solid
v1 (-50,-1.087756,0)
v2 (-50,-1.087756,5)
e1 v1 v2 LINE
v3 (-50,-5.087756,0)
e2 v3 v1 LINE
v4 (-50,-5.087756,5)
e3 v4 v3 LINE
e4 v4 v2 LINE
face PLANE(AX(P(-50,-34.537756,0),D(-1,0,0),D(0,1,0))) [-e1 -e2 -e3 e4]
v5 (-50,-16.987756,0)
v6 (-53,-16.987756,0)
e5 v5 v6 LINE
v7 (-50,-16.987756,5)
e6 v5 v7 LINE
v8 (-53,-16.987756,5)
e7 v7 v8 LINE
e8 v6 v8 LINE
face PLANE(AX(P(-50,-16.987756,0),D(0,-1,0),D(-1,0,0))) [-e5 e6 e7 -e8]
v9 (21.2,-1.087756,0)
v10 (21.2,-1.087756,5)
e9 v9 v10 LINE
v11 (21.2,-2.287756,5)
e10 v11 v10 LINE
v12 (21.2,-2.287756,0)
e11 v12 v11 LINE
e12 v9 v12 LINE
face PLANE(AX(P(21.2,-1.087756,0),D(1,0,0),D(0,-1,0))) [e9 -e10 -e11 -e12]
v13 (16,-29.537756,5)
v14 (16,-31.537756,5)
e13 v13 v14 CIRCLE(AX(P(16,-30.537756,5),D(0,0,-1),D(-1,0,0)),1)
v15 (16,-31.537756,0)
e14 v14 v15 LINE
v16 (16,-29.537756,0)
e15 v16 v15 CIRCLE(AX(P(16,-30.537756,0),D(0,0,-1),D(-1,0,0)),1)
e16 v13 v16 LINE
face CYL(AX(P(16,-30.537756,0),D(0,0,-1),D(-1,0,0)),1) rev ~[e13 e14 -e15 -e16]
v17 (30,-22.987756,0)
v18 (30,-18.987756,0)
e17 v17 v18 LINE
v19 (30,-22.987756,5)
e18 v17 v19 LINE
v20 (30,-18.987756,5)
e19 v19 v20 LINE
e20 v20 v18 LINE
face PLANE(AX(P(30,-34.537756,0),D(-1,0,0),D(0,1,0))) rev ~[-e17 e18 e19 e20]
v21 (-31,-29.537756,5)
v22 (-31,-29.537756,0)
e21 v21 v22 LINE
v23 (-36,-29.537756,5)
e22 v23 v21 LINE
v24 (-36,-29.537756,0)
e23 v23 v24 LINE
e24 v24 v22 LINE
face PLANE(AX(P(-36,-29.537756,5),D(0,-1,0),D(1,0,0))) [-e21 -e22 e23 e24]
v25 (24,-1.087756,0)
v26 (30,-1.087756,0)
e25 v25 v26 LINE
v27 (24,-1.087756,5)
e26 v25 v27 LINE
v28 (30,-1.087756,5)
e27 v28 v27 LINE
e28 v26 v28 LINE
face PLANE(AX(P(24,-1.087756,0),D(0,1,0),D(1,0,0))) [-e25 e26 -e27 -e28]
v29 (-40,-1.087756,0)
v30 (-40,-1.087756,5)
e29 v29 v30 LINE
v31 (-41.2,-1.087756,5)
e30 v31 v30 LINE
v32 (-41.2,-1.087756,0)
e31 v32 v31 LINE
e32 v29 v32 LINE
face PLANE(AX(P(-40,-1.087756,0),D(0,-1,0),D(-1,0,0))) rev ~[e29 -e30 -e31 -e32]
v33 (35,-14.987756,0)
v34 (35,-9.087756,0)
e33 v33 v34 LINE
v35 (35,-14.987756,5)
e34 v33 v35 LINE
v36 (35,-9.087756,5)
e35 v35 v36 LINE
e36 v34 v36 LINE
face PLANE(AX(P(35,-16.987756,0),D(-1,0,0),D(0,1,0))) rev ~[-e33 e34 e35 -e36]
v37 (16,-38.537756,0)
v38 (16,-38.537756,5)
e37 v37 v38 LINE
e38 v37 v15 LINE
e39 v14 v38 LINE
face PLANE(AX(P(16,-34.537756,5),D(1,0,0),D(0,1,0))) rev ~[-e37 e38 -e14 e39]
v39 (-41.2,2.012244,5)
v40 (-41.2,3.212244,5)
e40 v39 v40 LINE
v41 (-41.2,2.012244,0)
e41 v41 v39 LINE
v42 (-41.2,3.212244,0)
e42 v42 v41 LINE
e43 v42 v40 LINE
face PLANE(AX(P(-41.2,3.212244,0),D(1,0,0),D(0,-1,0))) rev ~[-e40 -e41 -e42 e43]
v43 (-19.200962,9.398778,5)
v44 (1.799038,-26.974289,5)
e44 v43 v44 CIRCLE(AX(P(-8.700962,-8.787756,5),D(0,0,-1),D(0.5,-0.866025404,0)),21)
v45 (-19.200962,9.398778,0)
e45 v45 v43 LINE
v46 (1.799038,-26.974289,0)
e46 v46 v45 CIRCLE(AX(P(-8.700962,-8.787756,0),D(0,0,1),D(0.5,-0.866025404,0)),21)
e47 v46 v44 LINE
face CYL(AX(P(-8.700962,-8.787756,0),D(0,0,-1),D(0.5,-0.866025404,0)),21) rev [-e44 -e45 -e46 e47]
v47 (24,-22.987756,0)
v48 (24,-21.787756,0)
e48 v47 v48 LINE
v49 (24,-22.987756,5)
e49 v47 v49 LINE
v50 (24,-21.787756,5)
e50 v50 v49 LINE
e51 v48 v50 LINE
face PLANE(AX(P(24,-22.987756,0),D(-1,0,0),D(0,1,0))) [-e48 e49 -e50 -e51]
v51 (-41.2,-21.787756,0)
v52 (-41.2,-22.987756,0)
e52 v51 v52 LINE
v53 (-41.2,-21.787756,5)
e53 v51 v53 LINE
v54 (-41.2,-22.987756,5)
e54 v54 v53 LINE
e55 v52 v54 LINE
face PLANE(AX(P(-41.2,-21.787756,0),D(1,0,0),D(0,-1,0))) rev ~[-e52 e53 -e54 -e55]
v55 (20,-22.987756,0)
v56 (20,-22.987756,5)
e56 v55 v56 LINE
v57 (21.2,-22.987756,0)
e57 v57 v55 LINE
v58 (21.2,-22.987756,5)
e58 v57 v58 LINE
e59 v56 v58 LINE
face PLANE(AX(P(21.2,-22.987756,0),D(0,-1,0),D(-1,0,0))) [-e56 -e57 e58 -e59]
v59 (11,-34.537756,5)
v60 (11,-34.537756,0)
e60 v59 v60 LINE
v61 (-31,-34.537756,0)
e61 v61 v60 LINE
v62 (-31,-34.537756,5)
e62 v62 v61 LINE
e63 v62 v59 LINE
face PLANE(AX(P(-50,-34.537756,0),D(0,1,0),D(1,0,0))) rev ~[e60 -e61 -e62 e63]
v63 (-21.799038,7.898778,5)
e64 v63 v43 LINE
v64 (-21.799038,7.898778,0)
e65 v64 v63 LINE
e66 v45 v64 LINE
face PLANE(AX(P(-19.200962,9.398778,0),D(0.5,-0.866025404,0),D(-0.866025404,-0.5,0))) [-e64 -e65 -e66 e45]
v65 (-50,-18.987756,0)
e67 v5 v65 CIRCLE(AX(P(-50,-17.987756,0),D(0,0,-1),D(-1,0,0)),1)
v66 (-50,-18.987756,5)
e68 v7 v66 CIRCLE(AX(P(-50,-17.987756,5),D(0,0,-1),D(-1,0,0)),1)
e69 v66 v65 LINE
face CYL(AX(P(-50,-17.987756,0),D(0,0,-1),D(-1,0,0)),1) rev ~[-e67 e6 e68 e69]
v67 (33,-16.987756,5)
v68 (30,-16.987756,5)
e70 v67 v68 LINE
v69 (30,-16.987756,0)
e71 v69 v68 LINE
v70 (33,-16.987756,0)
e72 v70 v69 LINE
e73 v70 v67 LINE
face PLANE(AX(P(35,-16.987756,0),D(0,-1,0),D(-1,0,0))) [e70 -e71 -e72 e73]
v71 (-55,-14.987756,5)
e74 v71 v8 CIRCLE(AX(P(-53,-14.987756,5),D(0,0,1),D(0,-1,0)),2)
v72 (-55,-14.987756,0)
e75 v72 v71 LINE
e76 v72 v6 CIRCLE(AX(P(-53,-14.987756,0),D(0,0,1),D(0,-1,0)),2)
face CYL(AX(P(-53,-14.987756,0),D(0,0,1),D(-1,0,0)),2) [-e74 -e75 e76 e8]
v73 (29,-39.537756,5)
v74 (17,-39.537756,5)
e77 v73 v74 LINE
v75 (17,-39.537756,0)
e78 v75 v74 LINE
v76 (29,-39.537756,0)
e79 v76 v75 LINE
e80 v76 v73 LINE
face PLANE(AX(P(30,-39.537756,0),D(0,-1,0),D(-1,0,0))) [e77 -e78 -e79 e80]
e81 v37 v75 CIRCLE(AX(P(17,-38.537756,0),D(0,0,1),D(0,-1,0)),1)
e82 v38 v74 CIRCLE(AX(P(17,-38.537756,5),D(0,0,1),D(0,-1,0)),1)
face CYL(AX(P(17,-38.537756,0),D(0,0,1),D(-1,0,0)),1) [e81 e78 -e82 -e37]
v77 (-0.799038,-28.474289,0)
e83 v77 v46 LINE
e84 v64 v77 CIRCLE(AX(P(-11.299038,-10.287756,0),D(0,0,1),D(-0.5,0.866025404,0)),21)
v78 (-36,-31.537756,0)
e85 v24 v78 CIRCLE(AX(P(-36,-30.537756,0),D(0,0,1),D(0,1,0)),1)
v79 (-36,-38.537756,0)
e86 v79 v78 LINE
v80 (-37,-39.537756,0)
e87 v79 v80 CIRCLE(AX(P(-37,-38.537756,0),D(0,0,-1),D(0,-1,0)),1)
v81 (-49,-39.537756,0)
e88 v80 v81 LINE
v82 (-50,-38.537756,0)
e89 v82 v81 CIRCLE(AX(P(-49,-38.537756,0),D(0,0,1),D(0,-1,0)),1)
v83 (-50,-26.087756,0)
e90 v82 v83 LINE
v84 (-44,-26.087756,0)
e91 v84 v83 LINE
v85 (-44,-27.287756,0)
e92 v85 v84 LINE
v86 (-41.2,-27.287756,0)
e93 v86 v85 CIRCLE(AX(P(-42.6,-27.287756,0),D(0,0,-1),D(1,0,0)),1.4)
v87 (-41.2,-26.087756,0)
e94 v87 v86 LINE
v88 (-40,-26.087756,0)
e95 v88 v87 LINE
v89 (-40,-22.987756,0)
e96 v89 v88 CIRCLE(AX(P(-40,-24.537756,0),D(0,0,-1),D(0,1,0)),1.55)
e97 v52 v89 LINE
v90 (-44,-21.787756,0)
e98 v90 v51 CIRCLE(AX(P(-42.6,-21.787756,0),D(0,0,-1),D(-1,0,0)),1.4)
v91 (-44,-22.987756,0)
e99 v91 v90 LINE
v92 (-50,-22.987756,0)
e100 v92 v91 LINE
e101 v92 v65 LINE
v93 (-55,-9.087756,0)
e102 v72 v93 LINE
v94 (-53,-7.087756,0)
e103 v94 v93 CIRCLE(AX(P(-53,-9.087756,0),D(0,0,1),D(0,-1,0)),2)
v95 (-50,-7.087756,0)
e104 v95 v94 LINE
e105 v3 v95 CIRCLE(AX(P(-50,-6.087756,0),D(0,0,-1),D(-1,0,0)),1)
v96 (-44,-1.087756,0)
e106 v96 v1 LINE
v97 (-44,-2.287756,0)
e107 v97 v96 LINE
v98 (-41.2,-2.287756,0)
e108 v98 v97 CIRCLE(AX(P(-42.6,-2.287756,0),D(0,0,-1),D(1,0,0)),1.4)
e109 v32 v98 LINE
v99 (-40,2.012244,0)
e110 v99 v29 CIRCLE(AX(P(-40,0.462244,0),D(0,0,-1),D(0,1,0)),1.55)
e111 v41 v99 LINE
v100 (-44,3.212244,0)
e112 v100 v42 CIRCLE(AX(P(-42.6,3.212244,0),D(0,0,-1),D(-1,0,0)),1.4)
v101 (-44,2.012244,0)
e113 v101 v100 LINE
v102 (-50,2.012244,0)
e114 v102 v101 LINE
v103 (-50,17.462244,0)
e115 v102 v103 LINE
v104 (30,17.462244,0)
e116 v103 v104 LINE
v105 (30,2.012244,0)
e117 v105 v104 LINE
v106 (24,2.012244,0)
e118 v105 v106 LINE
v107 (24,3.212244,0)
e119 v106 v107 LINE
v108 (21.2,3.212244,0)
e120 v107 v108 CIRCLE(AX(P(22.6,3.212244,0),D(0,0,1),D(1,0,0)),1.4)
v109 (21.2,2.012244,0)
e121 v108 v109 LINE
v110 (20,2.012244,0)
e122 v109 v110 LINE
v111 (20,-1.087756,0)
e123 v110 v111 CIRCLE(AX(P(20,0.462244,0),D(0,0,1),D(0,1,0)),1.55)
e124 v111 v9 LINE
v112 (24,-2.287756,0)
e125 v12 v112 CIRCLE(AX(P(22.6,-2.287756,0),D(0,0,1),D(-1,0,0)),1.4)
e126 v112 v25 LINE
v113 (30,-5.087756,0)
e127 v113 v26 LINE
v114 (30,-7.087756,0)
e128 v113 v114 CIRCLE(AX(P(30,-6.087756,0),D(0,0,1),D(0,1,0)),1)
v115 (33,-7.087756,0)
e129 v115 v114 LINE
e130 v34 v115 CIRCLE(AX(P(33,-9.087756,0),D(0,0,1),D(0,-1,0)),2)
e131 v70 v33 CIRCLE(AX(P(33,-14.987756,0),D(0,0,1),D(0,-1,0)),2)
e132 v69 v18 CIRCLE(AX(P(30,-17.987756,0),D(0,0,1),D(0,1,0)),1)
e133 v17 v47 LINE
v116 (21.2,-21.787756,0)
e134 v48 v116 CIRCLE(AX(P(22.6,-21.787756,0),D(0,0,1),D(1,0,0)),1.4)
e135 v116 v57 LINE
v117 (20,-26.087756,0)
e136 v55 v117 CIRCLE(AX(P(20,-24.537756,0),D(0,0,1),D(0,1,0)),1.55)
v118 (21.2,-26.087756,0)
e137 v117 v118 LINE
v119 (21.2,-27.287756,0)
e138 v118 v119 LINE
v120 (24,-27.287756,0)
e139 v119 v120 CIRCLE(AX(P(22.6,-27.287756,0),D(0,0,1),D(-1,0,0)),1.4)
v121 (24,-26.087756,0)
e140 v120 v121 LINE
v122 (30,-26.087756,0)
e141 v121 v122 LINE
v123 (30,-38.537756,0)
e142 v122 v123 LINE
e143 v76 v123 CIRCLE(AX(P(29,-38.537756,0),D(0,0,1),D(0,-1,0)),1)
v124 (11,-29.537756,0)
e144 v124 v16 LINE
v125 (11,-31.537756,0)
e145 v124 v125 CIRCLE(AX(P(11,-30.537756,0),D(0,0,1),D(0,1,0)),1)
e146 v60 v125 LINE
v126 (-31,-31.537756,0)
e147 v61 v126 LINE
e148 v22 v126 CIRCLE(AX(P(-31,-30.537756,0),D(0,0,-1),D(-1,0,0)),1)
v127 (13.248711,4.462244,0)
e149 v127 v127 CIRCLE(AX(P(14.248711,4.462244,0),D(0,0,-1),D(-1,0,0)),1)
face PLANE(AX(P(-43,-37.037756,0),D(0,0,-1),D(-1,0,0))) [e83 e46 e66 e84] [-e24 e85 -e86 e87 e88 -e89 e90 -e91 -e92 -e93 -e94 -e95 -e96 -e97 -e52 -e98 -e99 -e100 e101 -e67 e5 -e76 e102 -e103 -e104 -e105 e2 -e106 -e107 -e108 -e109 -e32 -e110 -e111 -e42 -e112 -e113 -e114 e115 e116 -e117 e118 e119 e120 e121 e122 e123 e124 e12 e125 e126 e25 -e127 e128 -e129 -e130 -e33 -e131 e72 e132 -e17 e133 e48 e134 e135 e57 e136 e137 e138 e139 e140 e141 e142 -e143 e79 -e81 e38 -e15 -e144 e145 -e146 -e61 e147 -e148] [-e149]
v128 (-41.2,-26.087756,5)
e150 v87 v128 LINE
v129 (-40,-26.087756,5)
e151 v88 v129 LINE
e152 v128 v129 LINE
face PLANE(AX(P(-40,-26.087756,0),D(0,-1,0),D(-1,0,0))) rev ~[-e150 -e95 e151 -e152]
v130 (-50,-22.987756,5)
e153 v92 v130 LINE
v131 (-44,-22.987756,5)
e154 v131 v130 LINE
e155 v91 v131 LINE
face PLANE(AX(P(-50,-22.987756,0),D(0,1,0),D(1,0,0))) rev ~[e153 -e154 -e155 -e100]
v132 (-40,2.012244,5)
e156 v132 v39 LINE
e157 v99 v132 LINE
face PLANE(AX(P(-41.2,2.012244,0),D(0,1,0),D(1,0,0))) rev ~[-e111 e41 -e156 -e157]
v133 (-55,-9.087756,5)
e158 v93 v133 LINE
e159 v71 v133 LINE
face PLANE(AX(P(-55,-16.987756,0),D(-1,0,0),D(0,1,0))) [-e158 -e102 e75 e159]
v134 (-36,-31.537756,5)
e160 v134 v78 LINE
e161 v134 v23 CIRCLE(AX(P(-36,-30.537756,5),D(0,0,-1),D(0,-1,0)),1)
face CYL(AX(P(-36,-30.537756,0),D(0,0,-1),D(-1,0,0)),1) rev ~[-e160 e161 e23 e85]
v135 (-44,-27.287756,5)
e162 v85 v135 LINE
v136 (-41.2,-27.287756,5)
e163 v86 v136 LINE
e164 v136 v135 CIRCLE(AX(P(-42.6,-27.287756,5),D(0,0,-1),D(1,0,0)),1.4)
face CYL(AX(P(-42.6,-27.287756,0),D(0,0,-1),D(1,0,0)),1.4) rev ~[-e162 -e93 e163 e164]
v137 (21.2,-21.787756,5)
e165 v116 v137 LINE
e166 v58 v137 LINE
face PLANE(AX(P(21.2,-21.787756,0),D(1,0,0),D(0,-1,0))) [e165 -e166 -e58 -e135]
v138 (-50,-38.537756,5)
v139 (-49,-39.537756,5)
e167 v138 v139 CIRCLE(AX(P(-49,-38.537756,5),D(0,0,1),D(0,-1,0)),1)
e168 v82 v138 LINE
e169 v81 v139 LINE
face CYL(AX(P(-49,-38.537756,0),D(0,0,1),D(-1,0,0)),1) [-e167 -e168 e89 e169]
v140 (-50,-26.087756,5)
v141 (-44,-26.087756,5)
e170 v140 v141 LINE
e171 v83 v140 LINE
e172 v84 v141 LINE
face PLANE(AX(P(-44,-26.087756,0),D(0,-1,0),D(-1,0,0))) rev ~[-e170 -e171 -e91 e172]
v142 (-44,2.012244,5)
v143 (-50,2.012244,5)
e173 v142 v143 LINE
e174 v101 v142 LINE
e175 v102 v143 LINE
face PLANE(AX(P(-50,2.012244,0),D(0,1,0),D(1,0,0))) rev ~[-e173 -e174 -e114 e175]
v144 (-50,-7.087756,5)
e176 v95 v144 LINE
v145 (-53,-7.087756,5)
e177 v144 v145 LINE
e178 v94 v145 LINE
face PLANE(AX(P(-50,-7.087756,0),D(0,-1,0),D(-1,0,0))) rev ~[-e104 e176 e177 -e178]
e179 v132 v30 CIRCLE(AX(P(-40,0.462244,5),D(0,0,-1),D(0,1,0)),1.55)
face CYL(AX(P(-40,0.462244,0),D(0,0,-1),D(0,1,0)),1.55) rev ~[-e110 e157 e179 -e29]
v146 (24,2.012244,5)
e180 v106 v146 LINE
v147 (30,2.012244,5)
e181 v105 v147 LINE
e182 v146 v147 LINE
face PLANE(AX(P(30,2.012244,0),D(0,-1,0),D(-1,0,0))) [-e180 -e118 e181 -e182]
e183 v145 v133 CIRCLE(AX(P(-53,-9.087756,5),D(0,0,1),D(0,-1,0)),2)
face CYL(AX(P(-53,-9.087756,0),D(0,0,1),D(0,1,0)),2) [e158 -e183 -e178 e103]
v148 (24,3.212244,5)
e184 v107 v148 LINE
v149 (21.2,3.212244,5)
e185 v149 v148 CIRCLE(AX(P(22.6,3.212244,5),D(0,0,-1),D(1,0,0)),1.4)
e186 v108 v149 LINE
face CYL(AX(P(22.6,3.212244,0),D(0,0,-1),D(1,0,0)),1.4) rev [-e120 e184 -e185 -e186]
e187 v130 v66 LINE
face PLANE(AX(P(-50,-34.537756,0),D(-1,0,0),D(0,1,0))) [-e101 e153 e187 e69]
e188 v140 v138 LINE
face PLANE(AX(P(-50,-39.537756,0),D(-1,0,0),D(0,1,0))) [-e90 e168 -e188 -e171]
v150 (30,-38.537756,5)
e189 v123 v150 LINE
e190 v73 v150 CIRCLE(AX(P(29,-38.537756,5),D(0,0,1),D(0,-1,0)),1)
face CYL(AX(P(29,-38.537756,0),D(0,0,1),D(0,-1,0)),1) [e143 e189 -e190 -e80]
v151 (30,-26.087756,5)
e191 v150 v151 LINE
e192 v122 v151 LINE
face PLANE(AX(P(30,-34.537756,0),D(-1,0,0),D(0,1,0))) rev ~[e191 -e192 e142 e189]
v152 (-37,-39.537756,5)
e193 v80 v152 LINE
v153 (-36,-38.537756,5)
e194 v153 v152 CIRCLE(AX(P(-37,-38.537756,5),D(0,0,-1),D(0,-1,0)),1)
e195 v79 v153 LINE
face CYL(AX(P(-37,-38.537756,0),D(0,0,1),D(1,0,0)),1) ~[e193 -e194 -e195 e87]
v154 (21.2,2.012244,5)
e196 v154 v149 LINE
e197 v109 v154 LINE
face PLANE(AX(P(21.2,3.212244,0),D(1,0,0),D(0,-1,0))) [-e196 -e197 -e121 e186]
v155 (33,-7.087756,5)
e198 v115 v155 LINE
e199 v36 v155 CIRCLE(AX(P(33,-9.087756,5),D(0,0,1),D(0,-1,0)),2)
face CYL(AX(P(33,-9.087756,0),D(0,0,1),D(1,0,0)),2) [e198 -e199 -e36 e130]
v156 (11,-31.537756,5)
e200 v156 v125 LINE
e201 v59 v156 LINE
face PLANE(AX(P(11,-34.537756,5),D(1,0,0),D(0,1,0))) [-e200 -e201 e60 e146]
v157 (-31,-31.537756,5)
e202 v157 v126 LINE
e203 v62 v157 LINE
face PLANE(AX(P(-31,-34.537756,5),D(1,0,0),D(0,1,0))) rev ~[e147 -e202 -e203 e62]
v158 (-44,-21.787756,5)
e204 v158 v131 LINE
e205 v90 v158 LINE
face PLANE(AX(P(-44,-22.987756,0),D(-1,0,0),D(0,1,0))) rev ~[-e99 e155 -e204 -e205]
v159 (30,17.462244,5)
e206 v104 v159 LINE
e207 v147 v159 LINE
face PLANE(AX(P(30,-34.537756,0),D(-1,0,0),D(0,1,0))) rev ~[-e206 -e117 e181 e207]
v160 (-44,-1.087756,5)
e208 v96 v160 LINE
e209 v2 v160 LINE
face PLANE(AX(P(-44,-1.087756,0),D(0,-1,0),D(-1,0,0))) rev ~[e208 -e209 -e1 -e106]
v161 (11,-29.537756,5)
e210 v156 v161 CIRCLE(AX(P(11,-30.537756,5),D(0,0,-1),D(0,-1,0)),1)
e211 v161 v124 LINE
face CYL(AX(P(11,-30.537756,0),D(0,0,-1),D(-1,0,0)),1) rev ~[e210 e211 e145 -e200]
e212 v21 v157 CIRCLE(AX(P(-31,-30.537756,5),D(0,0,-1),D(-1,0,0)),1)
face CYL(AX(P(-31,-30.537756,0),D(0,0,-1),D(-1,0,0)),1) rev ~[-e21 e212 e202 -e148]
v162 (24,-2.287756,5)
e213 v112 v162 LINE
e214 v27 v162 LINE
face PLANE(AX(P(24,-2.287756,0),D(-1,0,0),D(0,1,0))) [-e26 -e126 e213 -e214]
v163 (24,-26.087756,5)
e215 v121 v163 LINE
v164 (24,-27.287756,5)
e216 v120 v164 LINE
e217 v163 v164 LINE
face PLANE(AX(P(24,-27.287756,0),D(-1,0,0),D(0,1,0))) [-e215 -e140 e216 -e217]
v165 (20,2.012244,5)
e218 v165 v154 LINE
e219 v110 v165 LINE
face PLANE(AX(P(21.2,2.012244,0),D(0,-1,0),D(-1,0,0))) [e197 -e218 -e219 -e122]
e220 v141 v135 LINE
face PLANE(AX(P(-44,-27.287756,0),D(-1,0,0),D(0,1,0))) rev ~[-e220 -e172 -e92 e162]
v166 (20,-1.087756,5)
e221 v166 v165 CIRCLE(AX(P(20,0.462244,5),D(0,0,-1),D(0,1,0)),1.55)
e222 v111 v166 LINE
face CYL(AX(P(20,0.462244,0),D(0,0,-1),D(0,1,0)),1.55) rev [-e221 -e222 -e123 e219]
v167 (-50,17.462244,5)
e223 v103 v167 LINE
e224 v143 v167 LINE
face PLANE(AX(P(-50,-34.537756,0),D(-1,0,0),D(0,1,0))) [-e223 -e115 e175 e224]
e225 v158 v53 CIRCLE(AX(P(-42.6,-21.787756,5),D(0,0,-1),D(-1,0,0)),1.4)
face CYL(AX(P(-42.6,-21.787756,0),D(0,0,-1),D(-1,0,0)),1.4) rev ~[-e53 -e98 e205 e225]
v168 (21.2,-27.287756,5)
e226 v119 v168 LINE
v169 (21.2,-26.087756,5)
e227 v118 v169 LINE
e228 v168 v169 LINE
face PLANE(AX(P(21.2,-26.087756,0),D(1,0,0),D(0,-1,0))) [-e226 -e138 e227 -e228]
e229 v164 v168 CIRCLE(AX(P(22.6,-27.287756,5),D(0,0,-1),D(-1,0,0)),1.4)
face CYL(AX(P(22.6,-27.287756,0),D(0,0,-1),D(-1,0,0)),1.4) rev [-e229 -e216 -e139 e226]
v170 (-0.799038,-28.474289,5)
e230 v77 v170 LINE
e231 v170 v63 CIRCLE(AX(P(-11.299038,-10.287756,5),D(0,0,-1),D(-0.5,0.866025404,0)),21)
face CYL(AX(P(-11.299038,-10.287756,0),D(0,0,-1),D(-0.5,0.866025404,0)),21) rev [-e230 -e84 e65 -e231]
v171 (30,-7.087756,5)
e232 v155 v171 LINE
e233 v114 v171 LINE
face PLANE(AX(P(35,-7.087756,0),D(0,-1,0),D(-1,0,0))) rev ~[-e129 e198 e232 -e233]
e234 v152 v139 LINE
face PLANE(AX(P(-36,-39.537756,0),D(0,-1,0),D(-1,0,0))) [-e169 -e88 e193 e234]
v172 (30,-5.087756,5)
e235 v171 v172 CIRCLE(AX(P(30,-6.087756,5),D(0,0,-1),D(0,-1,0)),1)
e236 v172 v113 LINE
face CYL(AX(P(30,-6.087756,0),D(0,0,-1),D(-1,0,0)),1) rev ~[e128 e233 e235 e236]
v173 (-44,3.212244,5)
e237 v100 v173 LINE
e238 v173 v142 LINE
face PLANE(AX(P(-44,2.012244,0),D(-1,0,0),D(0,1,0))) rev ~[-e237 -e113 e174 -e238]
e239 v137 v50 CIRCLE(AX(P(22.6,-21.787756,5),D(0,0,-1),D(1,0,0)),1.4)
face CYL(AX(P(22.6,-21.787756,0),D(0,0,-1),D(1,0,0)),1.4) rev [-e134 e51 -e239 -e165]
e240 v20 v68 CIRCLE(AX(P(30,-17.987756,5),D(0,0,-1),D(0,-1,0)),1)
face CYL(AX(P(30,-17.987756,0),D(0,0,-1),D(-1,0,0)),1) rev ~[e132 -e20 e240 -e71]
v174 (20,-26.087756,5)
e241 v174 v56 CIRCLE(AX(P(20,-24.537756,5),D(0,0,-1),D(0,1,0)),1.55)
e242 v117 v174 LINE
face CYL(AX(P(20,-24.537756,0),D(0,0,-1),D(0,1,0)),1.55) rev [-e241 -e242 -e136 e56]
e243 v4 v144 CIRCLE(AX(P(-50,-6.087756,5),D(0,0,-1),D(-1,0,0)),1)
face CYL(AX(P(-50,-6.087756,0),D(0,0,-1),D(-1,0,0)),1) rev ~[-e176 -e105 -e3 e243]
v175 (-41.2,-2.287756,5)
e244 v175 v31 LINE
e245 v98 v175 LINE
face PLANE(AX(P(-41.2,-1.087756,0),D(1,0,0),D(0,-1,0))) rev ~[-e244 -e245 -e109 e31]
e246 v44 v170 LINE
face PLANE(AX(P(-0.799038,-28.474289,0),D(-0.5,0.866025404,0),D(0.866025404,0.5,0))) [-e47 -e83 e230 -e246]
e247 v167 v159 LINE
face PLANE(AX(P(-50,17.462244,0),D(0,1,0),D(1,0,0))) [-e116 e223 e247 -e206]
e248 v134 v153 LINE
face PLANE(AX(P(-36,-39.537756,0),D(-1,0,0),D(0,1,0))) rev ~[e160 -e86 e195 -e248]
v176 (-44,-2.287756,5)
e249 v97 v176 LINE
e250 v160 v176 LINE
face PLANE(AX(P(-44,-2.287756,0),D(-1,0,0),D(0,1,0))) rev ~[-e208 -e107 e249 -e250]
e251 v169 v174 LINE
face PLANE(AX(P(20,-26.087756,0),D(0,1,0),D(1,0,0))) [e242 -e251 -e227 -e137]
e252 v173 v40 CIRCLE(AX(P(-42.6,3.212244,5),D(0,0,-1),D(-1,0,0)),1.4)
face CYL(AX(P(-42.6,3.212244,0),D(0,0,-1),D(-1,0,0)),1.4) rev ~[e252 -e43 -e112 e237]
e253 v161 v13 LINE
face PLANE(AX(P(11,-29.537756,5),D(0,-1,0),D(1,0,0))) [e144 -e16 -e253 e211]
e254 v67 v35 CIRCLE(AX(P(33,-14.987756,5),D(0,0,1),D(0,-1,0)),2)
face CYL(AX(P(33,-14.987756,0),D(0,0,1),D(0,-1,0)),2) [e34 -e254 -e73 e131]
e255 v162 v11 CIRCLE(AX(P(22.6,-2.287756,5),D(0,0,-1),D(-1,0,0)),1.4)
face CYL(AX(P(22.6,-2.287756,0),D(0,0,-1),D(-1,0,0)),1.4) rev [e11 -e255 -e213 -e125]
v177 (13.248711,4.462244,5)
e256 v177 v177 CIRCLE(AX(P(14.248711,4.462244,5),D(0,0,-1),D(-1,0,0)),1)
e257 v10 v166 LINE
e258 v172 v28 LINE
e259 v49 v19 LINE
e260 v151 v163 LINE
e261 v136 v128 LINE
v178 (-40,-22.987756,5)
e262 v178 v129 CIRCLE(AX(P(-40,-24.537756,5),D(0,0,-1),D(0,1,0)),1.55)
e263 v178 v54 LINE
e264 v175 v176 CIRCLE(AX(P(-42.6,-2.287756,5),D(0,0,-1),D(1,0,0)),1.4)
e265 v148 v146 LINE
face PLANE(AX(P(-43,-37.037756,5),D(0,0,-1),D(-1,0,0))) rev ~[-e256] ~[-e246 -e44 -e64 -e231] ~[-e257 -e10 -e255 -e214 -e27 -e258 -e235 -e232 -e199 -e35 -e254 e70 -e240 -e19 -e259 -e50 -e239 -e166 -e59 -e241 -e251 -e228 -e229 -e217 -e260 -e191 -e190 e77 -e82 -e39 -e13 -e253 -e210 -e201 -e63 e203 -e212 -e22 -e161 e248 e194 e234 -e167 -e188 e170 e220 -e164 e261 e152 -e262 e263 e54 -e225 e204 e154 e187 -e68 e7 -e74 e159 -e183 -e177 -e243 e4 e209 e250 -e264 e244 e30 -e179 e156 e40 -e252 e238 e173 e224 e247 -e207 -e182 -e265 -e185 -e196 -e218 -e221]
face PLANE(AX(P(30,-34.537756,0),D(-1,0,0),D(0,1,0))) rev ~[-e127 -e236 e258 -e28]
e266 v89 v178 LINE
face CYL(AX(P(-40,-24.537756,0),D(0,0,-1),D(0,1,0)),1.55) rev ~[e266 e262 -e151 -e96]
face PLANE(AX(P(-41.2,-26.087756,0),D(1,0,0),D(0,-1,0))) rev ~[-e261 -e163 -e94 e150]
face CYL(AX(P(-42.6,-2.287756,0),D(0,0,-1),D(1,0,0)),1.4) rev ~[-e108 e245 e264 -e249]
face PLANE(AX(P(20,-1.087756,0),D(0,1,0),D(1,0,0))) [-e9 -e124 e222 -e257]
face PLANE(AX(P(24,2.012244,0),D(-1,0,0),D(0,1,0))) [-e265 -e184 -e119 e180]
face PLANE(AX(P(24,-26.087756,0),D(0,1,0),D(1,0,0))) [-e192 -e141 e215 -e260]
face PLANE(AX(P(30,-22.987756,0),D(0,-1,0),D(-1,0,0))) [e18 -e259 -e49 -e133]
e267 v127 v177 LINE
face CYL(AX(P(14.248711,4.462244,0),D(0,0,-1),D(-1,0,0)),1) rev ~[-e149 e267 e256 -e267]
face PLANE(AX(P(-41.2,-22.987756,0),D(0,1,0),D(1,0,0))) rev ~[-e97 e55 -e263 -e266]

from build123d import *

# Parameters (mm, degrees)
SKETCH_1_W          = 80
SKETCH_1_H          = 52
EXTRUDE_1_DEPTH     = 5
CUT_EXTRUDE_3_DEPTH = 10
CUT_EXTRUDE_4_DEPTH = 10
SKETCH_9_R          = 1
CUT_EXTRUDE_5_DEPTH = 10
SKETCH_10_W         = 5
SKETCH_10_H         = 5
CUT_EXTRUDE_6_DEPTH = 10
SKETCH_11_R         = 1
CUT_EXTRUDE_7_DEPTH = 10
SKETCH_12_W         = 5
SKETCH_12_H         = 9.9
EXTRUDE_4_DEPTH     = 5
SKETCH_13_R         = 1
CUT_EXTRUDE_8_DEPTH = 5
FILLET_2_R          = 2
SKETCH_14_W         = 14
SKETCH_14_H         = 5
EXTRUDE_5_DEPTH     = 5
FILLET_3_R          = 1


with BuildPart() as part:
    # 스케치1 → 보스-돌출1 (new body)
    with BuildSketch(Plane.XY):
        with Locations((-10, -8.537755654)):
            Rectangle(SKETCH_1_W, SKETCH_1_H)
    extrude(amount=EXTRUDE_1_DEPTH)

    # 스케치7 → 컷-돌출3 (cut)
    with BuildSketch(Plane(origin=(0, 0, 0), x_dir=(-1, 0, 0), z_dir=(0, 0, -1))):
        with BuildLine():
            Line((-30, 2.012244346), (-24, 2.012244346))
            Line((-24, 2.012244346), (-24, 3.212244346))
            ThreePointArc((-24, 3.212244346), (-22.6, 4.612244346), (-21.2, 3.212244346))
            Line((-21.2, 3.212244346), (-21.2, 2.012244346))
            Line((-21.2, 2.012244346), (-20, 2.012244346))
            ThreePointArc((-20, 2.012244346), (-18.45, 0.462244346), (-20, -1.087755654))
            Line((-20, -1.087755654), (-21.2, -1.087755654))
            Line((-21.2, -1.087755654), (-21.2, -2.287755654))
            ThreePointArc((-21.2, -2.287755654), (-22.6, -3.687755654), (-24, -2.287755654))
            Line((-24, -2.287755654), (-24, -1.087755654))
            Line((-24, -1.087755654), (-30, -1.087755654))
            Line((-30, -1.087755654), (-30, 2.012244346))
        make_face()
        with BuildLine():
            Line((-30, -22.987755654), (-24, -22.987755654))
            Line((-24, -22.987755654), (-24, -21.787755654))
            ThreePointArc((-24, -21.787755654), (-22.6, -20.387755654), (-21.2, -21.787755654))
            Line((-21.2, -21.787755654), (-21.2, -22.987755654))
            Line((-21.2, -22.987755654), (-20, -22.987755654))
            ThreePointArc((-20, -22.987755654), (-18.45, -24.537755654), (-20, -26.087755654))
            Line((-20, -26.087755654), (-21.2, -26.087755654))
            Line((-21.2, -26.087755654), (-21.2, -27.287755654))
            ThreePointArc((-21.2, -27.287755654), (-22.6, -28.687755654), (-24, -27.287755654))
            Line((-24, -27.287755654), (-24, -26.087755654))
            Line((-24, -26.087755654), (-30, -26.087755654))
            Line((-30, -26.087755654), (-30, -22.987755654))
        make_face()
        with BuildLine():
            Line((44, -27.287755654), (44, -26.087755654))
            Line((44, -26.087755654), (50, -26.087755654))
            Line((50, -26.087755654), (50, -22.987755654))
            Line((50, -22.987755654), (44, -22.987755654))
            Line((44, -22.987755654), (44, -21.787755654))
            ThreePointArc((44, -21.787755654), (42.6, -20.387755654), (41.2, -21.787755654))
            Line((41.2, -21.787755654), (41.2, -22.987755654))
            Line((41.2, -22.987755654), (40, -22.987755654))
            ThreePointArc((40, -22.987755654), (38.45, -24.537755654), (40, -26.087755654))
            Line((40, -26.087755654), (41.2, -26.087755654))
            Line((41.2, -26.087755654), (41.2, -27.287755654))
            ThreePointArc((41.2, -27.287755654), (42.6, -28.687755654), (44, -27.287755654))
        make_face()
        with BuildLine():
            Line((44, -2.287755654), (44, -1.087755654))
            Line((44, -1.087755654), (50, -1.087755654))
            Line((50, -1.087755654), (50, 2.012244346))
            Line((50, 2.012244346), (44, 2.012244346))
            Line((44, 2.012244346), (44, 3.212244346))
            ThreePointArc((44, 3.212244346), (42.6, 4.612244346), (41.2, 3.212244346))
            Line((41.2, 3.212244346), (41.2, 2.012244346))
            Line((41.2, 2.012244346), (40, 2.012244346))
            ThreePointArc((40, 2.012244346), (38.45, 0.462244346), (40, -1.087755654))
            Line((40, -1.087755654), (41.2, -1.087755654))
            Line((41.2, -1.087755654), (41.2, -2.287755654))
            ThreePointArc((41.2, -2.287755654), (42.6, -3.687755654), (44, -2.287755654))
        make_face()
    extrude(amount=-CUT_EXTRUDE_3_DEPTH, mode=Mode.SUBTRACT)

    # 스케치8 → 컷-돌출4 (cut)
    with BuildSketch(Plane(origin=(0, 0, 0), x_dir=(-1, 0, 0), z_dir=(0, 0, -1))):
        with BuildLine():
            Line((19.200961894, 9.398777825), (21.799038106, 7.898777825))
            ThreePointArc((21.799038106, 7.898777825), (29.485571585, -20.787755654), (0.799038106, -28.474289134))
            Line((0.799038106, -28.474289134), (-1.799038106, -26.974289134))
            ThreePointArc((-1.799038106, -26.974289134), (-9.485571585, 1.712244346), (19.200961894, 9.398777825))
        make_face()
    extrude(amount=-CUT_EXTRUDE_4_DEPTH, mode=Mode.SUBTRACT)

    # 스케치9 → 컷-돌출5 (cut)
    with BuildSketch(Plane(origin=(0, 0, 0), x_dir=(-1, 0, 0), z_dir=(0, 0, -1))):
        with Locations((-14.248711306, 4.462244346)):
            Circle(SKETCH_9_R)
    extrude(amount=-CUT_EXTRUDE_5_DEPTH, mode=Mode.SUBTRACT)

    # 스케치10 → 컷-돌출6 (cut)
    with BuildSketch(Plane.XY.offset(5)):
        with Locations((13.5, -32.037755654)):
            Rectangle(SKETCH_10_W, SKETCH_10_H)
        with Locations((-33.5, -32.037755654)):
            Rectangle(SKETCH_10_W, SKETCH_10_H)
    extrude(amount=-CUT_EXTRUDE_6_DEPTH, mode=Mode.SUBTRACT)

    # 스케치11 → 컷-돌출7 (cut)
    with BuildSketch(Plane(origin=(0, 0, 0), x_dir=(-1, 0, 0), z_dir=(0, 0, -1))):
        with Locations((-11, -30.537755654)):
            Circle(SKETCH_11_R)
        with Locations((-16, -30.537755654)):
            Circle(SKETCH_11_R)
        with Locations((31, -30.537755654)):
            Circle(SKETCH_11_R)
        with Locations((36, -30.537755654)):
            Circle(SKETCH_11_R)
    extrude(amount=-CUT_EXTRUDE_7_DEPTH, mode=Mode.SUBTRACT)

    # 스케치12 → 보스-돌출4 (add)
    with BuildSketch(Plane(origin=(0, 0, 0), x_dir=(-1, 0, 0), z_dir=(0, 0, -1))):
        with Locations((52.5, -12.037755654)):
            Rectangle(SKETCH_12_W, SKETCH_12_H)
        with Locations((-32.5, -12.037755654)):
            Rectangle(SKETCH_12_W, SKETCH_12_H)
    extrude(amount=-EXTRUDE_4_DEPTH)

    # 스케치13 → 컷-돌출8 (cut)
    with BuildSketch(Plane(origin=(0, 0, 0), x_dir=(-1, 0, 0), z_dir=(0, 0, -1))):
        with Locations((50, -6.087755654)):
            Circle(SKETCH_13_R)
        with Locations((50, -17.987755654)):
            Circle(SKETCH_13_R)
        with Locations((-30, -6.087755654)):
            Circle(SKETCH_13_R)
        with Locations((-30, -17.987755654)):
            Circle(SKETCH_13_R)
    extrude(amount=-CUT_EXTRUDE_8_DEPTH, mode=Mode.SUBTRACT)

    # 필렛2
    fillet_2_edges = [part.edges().sort_by_distance(p)[0] for p in [
        (-55, -7.087755654, 2.5),
        (-55, -16.987755654, 2.5),
        (35, -7.087755654, 2.5),
        (35, -16.987755654, 2.5),
    ]]
    fillet(fillet_2_edges, radius=FILLET_2_R)

    # 스케치14 → 보스-돌출5 (add)
    with BuildSketch(Plane(origin=(0, 0, 0), x_dir=(-1, 0, 0), z_dir=(0, 0, -1))):
        with Locations((43, -37.037755654)):
            Rectangle(SKETCH_14_W, SKETCH_14_H)
        with Locations((-23, -37.037755654)):
            Rectangle(SKETCH_14_W, SKETCH_14_H)
    extrude(amount=-EXTRUDE_5_DEPTH)

    # 필렛3
    fillet_3_edges = [part.edges().sort_by_distance(p)[0] for p in [
        (-50, -39.537755654, 2.5),
        (-36, -39.537755654, 2.5),
        (16, -39.537755654, 2.5),
        (30, -39.537755654, 2.5),
    ]]
    fillet(fillet_3_edges, radius=FILLET_3_R)


solid = part.part
